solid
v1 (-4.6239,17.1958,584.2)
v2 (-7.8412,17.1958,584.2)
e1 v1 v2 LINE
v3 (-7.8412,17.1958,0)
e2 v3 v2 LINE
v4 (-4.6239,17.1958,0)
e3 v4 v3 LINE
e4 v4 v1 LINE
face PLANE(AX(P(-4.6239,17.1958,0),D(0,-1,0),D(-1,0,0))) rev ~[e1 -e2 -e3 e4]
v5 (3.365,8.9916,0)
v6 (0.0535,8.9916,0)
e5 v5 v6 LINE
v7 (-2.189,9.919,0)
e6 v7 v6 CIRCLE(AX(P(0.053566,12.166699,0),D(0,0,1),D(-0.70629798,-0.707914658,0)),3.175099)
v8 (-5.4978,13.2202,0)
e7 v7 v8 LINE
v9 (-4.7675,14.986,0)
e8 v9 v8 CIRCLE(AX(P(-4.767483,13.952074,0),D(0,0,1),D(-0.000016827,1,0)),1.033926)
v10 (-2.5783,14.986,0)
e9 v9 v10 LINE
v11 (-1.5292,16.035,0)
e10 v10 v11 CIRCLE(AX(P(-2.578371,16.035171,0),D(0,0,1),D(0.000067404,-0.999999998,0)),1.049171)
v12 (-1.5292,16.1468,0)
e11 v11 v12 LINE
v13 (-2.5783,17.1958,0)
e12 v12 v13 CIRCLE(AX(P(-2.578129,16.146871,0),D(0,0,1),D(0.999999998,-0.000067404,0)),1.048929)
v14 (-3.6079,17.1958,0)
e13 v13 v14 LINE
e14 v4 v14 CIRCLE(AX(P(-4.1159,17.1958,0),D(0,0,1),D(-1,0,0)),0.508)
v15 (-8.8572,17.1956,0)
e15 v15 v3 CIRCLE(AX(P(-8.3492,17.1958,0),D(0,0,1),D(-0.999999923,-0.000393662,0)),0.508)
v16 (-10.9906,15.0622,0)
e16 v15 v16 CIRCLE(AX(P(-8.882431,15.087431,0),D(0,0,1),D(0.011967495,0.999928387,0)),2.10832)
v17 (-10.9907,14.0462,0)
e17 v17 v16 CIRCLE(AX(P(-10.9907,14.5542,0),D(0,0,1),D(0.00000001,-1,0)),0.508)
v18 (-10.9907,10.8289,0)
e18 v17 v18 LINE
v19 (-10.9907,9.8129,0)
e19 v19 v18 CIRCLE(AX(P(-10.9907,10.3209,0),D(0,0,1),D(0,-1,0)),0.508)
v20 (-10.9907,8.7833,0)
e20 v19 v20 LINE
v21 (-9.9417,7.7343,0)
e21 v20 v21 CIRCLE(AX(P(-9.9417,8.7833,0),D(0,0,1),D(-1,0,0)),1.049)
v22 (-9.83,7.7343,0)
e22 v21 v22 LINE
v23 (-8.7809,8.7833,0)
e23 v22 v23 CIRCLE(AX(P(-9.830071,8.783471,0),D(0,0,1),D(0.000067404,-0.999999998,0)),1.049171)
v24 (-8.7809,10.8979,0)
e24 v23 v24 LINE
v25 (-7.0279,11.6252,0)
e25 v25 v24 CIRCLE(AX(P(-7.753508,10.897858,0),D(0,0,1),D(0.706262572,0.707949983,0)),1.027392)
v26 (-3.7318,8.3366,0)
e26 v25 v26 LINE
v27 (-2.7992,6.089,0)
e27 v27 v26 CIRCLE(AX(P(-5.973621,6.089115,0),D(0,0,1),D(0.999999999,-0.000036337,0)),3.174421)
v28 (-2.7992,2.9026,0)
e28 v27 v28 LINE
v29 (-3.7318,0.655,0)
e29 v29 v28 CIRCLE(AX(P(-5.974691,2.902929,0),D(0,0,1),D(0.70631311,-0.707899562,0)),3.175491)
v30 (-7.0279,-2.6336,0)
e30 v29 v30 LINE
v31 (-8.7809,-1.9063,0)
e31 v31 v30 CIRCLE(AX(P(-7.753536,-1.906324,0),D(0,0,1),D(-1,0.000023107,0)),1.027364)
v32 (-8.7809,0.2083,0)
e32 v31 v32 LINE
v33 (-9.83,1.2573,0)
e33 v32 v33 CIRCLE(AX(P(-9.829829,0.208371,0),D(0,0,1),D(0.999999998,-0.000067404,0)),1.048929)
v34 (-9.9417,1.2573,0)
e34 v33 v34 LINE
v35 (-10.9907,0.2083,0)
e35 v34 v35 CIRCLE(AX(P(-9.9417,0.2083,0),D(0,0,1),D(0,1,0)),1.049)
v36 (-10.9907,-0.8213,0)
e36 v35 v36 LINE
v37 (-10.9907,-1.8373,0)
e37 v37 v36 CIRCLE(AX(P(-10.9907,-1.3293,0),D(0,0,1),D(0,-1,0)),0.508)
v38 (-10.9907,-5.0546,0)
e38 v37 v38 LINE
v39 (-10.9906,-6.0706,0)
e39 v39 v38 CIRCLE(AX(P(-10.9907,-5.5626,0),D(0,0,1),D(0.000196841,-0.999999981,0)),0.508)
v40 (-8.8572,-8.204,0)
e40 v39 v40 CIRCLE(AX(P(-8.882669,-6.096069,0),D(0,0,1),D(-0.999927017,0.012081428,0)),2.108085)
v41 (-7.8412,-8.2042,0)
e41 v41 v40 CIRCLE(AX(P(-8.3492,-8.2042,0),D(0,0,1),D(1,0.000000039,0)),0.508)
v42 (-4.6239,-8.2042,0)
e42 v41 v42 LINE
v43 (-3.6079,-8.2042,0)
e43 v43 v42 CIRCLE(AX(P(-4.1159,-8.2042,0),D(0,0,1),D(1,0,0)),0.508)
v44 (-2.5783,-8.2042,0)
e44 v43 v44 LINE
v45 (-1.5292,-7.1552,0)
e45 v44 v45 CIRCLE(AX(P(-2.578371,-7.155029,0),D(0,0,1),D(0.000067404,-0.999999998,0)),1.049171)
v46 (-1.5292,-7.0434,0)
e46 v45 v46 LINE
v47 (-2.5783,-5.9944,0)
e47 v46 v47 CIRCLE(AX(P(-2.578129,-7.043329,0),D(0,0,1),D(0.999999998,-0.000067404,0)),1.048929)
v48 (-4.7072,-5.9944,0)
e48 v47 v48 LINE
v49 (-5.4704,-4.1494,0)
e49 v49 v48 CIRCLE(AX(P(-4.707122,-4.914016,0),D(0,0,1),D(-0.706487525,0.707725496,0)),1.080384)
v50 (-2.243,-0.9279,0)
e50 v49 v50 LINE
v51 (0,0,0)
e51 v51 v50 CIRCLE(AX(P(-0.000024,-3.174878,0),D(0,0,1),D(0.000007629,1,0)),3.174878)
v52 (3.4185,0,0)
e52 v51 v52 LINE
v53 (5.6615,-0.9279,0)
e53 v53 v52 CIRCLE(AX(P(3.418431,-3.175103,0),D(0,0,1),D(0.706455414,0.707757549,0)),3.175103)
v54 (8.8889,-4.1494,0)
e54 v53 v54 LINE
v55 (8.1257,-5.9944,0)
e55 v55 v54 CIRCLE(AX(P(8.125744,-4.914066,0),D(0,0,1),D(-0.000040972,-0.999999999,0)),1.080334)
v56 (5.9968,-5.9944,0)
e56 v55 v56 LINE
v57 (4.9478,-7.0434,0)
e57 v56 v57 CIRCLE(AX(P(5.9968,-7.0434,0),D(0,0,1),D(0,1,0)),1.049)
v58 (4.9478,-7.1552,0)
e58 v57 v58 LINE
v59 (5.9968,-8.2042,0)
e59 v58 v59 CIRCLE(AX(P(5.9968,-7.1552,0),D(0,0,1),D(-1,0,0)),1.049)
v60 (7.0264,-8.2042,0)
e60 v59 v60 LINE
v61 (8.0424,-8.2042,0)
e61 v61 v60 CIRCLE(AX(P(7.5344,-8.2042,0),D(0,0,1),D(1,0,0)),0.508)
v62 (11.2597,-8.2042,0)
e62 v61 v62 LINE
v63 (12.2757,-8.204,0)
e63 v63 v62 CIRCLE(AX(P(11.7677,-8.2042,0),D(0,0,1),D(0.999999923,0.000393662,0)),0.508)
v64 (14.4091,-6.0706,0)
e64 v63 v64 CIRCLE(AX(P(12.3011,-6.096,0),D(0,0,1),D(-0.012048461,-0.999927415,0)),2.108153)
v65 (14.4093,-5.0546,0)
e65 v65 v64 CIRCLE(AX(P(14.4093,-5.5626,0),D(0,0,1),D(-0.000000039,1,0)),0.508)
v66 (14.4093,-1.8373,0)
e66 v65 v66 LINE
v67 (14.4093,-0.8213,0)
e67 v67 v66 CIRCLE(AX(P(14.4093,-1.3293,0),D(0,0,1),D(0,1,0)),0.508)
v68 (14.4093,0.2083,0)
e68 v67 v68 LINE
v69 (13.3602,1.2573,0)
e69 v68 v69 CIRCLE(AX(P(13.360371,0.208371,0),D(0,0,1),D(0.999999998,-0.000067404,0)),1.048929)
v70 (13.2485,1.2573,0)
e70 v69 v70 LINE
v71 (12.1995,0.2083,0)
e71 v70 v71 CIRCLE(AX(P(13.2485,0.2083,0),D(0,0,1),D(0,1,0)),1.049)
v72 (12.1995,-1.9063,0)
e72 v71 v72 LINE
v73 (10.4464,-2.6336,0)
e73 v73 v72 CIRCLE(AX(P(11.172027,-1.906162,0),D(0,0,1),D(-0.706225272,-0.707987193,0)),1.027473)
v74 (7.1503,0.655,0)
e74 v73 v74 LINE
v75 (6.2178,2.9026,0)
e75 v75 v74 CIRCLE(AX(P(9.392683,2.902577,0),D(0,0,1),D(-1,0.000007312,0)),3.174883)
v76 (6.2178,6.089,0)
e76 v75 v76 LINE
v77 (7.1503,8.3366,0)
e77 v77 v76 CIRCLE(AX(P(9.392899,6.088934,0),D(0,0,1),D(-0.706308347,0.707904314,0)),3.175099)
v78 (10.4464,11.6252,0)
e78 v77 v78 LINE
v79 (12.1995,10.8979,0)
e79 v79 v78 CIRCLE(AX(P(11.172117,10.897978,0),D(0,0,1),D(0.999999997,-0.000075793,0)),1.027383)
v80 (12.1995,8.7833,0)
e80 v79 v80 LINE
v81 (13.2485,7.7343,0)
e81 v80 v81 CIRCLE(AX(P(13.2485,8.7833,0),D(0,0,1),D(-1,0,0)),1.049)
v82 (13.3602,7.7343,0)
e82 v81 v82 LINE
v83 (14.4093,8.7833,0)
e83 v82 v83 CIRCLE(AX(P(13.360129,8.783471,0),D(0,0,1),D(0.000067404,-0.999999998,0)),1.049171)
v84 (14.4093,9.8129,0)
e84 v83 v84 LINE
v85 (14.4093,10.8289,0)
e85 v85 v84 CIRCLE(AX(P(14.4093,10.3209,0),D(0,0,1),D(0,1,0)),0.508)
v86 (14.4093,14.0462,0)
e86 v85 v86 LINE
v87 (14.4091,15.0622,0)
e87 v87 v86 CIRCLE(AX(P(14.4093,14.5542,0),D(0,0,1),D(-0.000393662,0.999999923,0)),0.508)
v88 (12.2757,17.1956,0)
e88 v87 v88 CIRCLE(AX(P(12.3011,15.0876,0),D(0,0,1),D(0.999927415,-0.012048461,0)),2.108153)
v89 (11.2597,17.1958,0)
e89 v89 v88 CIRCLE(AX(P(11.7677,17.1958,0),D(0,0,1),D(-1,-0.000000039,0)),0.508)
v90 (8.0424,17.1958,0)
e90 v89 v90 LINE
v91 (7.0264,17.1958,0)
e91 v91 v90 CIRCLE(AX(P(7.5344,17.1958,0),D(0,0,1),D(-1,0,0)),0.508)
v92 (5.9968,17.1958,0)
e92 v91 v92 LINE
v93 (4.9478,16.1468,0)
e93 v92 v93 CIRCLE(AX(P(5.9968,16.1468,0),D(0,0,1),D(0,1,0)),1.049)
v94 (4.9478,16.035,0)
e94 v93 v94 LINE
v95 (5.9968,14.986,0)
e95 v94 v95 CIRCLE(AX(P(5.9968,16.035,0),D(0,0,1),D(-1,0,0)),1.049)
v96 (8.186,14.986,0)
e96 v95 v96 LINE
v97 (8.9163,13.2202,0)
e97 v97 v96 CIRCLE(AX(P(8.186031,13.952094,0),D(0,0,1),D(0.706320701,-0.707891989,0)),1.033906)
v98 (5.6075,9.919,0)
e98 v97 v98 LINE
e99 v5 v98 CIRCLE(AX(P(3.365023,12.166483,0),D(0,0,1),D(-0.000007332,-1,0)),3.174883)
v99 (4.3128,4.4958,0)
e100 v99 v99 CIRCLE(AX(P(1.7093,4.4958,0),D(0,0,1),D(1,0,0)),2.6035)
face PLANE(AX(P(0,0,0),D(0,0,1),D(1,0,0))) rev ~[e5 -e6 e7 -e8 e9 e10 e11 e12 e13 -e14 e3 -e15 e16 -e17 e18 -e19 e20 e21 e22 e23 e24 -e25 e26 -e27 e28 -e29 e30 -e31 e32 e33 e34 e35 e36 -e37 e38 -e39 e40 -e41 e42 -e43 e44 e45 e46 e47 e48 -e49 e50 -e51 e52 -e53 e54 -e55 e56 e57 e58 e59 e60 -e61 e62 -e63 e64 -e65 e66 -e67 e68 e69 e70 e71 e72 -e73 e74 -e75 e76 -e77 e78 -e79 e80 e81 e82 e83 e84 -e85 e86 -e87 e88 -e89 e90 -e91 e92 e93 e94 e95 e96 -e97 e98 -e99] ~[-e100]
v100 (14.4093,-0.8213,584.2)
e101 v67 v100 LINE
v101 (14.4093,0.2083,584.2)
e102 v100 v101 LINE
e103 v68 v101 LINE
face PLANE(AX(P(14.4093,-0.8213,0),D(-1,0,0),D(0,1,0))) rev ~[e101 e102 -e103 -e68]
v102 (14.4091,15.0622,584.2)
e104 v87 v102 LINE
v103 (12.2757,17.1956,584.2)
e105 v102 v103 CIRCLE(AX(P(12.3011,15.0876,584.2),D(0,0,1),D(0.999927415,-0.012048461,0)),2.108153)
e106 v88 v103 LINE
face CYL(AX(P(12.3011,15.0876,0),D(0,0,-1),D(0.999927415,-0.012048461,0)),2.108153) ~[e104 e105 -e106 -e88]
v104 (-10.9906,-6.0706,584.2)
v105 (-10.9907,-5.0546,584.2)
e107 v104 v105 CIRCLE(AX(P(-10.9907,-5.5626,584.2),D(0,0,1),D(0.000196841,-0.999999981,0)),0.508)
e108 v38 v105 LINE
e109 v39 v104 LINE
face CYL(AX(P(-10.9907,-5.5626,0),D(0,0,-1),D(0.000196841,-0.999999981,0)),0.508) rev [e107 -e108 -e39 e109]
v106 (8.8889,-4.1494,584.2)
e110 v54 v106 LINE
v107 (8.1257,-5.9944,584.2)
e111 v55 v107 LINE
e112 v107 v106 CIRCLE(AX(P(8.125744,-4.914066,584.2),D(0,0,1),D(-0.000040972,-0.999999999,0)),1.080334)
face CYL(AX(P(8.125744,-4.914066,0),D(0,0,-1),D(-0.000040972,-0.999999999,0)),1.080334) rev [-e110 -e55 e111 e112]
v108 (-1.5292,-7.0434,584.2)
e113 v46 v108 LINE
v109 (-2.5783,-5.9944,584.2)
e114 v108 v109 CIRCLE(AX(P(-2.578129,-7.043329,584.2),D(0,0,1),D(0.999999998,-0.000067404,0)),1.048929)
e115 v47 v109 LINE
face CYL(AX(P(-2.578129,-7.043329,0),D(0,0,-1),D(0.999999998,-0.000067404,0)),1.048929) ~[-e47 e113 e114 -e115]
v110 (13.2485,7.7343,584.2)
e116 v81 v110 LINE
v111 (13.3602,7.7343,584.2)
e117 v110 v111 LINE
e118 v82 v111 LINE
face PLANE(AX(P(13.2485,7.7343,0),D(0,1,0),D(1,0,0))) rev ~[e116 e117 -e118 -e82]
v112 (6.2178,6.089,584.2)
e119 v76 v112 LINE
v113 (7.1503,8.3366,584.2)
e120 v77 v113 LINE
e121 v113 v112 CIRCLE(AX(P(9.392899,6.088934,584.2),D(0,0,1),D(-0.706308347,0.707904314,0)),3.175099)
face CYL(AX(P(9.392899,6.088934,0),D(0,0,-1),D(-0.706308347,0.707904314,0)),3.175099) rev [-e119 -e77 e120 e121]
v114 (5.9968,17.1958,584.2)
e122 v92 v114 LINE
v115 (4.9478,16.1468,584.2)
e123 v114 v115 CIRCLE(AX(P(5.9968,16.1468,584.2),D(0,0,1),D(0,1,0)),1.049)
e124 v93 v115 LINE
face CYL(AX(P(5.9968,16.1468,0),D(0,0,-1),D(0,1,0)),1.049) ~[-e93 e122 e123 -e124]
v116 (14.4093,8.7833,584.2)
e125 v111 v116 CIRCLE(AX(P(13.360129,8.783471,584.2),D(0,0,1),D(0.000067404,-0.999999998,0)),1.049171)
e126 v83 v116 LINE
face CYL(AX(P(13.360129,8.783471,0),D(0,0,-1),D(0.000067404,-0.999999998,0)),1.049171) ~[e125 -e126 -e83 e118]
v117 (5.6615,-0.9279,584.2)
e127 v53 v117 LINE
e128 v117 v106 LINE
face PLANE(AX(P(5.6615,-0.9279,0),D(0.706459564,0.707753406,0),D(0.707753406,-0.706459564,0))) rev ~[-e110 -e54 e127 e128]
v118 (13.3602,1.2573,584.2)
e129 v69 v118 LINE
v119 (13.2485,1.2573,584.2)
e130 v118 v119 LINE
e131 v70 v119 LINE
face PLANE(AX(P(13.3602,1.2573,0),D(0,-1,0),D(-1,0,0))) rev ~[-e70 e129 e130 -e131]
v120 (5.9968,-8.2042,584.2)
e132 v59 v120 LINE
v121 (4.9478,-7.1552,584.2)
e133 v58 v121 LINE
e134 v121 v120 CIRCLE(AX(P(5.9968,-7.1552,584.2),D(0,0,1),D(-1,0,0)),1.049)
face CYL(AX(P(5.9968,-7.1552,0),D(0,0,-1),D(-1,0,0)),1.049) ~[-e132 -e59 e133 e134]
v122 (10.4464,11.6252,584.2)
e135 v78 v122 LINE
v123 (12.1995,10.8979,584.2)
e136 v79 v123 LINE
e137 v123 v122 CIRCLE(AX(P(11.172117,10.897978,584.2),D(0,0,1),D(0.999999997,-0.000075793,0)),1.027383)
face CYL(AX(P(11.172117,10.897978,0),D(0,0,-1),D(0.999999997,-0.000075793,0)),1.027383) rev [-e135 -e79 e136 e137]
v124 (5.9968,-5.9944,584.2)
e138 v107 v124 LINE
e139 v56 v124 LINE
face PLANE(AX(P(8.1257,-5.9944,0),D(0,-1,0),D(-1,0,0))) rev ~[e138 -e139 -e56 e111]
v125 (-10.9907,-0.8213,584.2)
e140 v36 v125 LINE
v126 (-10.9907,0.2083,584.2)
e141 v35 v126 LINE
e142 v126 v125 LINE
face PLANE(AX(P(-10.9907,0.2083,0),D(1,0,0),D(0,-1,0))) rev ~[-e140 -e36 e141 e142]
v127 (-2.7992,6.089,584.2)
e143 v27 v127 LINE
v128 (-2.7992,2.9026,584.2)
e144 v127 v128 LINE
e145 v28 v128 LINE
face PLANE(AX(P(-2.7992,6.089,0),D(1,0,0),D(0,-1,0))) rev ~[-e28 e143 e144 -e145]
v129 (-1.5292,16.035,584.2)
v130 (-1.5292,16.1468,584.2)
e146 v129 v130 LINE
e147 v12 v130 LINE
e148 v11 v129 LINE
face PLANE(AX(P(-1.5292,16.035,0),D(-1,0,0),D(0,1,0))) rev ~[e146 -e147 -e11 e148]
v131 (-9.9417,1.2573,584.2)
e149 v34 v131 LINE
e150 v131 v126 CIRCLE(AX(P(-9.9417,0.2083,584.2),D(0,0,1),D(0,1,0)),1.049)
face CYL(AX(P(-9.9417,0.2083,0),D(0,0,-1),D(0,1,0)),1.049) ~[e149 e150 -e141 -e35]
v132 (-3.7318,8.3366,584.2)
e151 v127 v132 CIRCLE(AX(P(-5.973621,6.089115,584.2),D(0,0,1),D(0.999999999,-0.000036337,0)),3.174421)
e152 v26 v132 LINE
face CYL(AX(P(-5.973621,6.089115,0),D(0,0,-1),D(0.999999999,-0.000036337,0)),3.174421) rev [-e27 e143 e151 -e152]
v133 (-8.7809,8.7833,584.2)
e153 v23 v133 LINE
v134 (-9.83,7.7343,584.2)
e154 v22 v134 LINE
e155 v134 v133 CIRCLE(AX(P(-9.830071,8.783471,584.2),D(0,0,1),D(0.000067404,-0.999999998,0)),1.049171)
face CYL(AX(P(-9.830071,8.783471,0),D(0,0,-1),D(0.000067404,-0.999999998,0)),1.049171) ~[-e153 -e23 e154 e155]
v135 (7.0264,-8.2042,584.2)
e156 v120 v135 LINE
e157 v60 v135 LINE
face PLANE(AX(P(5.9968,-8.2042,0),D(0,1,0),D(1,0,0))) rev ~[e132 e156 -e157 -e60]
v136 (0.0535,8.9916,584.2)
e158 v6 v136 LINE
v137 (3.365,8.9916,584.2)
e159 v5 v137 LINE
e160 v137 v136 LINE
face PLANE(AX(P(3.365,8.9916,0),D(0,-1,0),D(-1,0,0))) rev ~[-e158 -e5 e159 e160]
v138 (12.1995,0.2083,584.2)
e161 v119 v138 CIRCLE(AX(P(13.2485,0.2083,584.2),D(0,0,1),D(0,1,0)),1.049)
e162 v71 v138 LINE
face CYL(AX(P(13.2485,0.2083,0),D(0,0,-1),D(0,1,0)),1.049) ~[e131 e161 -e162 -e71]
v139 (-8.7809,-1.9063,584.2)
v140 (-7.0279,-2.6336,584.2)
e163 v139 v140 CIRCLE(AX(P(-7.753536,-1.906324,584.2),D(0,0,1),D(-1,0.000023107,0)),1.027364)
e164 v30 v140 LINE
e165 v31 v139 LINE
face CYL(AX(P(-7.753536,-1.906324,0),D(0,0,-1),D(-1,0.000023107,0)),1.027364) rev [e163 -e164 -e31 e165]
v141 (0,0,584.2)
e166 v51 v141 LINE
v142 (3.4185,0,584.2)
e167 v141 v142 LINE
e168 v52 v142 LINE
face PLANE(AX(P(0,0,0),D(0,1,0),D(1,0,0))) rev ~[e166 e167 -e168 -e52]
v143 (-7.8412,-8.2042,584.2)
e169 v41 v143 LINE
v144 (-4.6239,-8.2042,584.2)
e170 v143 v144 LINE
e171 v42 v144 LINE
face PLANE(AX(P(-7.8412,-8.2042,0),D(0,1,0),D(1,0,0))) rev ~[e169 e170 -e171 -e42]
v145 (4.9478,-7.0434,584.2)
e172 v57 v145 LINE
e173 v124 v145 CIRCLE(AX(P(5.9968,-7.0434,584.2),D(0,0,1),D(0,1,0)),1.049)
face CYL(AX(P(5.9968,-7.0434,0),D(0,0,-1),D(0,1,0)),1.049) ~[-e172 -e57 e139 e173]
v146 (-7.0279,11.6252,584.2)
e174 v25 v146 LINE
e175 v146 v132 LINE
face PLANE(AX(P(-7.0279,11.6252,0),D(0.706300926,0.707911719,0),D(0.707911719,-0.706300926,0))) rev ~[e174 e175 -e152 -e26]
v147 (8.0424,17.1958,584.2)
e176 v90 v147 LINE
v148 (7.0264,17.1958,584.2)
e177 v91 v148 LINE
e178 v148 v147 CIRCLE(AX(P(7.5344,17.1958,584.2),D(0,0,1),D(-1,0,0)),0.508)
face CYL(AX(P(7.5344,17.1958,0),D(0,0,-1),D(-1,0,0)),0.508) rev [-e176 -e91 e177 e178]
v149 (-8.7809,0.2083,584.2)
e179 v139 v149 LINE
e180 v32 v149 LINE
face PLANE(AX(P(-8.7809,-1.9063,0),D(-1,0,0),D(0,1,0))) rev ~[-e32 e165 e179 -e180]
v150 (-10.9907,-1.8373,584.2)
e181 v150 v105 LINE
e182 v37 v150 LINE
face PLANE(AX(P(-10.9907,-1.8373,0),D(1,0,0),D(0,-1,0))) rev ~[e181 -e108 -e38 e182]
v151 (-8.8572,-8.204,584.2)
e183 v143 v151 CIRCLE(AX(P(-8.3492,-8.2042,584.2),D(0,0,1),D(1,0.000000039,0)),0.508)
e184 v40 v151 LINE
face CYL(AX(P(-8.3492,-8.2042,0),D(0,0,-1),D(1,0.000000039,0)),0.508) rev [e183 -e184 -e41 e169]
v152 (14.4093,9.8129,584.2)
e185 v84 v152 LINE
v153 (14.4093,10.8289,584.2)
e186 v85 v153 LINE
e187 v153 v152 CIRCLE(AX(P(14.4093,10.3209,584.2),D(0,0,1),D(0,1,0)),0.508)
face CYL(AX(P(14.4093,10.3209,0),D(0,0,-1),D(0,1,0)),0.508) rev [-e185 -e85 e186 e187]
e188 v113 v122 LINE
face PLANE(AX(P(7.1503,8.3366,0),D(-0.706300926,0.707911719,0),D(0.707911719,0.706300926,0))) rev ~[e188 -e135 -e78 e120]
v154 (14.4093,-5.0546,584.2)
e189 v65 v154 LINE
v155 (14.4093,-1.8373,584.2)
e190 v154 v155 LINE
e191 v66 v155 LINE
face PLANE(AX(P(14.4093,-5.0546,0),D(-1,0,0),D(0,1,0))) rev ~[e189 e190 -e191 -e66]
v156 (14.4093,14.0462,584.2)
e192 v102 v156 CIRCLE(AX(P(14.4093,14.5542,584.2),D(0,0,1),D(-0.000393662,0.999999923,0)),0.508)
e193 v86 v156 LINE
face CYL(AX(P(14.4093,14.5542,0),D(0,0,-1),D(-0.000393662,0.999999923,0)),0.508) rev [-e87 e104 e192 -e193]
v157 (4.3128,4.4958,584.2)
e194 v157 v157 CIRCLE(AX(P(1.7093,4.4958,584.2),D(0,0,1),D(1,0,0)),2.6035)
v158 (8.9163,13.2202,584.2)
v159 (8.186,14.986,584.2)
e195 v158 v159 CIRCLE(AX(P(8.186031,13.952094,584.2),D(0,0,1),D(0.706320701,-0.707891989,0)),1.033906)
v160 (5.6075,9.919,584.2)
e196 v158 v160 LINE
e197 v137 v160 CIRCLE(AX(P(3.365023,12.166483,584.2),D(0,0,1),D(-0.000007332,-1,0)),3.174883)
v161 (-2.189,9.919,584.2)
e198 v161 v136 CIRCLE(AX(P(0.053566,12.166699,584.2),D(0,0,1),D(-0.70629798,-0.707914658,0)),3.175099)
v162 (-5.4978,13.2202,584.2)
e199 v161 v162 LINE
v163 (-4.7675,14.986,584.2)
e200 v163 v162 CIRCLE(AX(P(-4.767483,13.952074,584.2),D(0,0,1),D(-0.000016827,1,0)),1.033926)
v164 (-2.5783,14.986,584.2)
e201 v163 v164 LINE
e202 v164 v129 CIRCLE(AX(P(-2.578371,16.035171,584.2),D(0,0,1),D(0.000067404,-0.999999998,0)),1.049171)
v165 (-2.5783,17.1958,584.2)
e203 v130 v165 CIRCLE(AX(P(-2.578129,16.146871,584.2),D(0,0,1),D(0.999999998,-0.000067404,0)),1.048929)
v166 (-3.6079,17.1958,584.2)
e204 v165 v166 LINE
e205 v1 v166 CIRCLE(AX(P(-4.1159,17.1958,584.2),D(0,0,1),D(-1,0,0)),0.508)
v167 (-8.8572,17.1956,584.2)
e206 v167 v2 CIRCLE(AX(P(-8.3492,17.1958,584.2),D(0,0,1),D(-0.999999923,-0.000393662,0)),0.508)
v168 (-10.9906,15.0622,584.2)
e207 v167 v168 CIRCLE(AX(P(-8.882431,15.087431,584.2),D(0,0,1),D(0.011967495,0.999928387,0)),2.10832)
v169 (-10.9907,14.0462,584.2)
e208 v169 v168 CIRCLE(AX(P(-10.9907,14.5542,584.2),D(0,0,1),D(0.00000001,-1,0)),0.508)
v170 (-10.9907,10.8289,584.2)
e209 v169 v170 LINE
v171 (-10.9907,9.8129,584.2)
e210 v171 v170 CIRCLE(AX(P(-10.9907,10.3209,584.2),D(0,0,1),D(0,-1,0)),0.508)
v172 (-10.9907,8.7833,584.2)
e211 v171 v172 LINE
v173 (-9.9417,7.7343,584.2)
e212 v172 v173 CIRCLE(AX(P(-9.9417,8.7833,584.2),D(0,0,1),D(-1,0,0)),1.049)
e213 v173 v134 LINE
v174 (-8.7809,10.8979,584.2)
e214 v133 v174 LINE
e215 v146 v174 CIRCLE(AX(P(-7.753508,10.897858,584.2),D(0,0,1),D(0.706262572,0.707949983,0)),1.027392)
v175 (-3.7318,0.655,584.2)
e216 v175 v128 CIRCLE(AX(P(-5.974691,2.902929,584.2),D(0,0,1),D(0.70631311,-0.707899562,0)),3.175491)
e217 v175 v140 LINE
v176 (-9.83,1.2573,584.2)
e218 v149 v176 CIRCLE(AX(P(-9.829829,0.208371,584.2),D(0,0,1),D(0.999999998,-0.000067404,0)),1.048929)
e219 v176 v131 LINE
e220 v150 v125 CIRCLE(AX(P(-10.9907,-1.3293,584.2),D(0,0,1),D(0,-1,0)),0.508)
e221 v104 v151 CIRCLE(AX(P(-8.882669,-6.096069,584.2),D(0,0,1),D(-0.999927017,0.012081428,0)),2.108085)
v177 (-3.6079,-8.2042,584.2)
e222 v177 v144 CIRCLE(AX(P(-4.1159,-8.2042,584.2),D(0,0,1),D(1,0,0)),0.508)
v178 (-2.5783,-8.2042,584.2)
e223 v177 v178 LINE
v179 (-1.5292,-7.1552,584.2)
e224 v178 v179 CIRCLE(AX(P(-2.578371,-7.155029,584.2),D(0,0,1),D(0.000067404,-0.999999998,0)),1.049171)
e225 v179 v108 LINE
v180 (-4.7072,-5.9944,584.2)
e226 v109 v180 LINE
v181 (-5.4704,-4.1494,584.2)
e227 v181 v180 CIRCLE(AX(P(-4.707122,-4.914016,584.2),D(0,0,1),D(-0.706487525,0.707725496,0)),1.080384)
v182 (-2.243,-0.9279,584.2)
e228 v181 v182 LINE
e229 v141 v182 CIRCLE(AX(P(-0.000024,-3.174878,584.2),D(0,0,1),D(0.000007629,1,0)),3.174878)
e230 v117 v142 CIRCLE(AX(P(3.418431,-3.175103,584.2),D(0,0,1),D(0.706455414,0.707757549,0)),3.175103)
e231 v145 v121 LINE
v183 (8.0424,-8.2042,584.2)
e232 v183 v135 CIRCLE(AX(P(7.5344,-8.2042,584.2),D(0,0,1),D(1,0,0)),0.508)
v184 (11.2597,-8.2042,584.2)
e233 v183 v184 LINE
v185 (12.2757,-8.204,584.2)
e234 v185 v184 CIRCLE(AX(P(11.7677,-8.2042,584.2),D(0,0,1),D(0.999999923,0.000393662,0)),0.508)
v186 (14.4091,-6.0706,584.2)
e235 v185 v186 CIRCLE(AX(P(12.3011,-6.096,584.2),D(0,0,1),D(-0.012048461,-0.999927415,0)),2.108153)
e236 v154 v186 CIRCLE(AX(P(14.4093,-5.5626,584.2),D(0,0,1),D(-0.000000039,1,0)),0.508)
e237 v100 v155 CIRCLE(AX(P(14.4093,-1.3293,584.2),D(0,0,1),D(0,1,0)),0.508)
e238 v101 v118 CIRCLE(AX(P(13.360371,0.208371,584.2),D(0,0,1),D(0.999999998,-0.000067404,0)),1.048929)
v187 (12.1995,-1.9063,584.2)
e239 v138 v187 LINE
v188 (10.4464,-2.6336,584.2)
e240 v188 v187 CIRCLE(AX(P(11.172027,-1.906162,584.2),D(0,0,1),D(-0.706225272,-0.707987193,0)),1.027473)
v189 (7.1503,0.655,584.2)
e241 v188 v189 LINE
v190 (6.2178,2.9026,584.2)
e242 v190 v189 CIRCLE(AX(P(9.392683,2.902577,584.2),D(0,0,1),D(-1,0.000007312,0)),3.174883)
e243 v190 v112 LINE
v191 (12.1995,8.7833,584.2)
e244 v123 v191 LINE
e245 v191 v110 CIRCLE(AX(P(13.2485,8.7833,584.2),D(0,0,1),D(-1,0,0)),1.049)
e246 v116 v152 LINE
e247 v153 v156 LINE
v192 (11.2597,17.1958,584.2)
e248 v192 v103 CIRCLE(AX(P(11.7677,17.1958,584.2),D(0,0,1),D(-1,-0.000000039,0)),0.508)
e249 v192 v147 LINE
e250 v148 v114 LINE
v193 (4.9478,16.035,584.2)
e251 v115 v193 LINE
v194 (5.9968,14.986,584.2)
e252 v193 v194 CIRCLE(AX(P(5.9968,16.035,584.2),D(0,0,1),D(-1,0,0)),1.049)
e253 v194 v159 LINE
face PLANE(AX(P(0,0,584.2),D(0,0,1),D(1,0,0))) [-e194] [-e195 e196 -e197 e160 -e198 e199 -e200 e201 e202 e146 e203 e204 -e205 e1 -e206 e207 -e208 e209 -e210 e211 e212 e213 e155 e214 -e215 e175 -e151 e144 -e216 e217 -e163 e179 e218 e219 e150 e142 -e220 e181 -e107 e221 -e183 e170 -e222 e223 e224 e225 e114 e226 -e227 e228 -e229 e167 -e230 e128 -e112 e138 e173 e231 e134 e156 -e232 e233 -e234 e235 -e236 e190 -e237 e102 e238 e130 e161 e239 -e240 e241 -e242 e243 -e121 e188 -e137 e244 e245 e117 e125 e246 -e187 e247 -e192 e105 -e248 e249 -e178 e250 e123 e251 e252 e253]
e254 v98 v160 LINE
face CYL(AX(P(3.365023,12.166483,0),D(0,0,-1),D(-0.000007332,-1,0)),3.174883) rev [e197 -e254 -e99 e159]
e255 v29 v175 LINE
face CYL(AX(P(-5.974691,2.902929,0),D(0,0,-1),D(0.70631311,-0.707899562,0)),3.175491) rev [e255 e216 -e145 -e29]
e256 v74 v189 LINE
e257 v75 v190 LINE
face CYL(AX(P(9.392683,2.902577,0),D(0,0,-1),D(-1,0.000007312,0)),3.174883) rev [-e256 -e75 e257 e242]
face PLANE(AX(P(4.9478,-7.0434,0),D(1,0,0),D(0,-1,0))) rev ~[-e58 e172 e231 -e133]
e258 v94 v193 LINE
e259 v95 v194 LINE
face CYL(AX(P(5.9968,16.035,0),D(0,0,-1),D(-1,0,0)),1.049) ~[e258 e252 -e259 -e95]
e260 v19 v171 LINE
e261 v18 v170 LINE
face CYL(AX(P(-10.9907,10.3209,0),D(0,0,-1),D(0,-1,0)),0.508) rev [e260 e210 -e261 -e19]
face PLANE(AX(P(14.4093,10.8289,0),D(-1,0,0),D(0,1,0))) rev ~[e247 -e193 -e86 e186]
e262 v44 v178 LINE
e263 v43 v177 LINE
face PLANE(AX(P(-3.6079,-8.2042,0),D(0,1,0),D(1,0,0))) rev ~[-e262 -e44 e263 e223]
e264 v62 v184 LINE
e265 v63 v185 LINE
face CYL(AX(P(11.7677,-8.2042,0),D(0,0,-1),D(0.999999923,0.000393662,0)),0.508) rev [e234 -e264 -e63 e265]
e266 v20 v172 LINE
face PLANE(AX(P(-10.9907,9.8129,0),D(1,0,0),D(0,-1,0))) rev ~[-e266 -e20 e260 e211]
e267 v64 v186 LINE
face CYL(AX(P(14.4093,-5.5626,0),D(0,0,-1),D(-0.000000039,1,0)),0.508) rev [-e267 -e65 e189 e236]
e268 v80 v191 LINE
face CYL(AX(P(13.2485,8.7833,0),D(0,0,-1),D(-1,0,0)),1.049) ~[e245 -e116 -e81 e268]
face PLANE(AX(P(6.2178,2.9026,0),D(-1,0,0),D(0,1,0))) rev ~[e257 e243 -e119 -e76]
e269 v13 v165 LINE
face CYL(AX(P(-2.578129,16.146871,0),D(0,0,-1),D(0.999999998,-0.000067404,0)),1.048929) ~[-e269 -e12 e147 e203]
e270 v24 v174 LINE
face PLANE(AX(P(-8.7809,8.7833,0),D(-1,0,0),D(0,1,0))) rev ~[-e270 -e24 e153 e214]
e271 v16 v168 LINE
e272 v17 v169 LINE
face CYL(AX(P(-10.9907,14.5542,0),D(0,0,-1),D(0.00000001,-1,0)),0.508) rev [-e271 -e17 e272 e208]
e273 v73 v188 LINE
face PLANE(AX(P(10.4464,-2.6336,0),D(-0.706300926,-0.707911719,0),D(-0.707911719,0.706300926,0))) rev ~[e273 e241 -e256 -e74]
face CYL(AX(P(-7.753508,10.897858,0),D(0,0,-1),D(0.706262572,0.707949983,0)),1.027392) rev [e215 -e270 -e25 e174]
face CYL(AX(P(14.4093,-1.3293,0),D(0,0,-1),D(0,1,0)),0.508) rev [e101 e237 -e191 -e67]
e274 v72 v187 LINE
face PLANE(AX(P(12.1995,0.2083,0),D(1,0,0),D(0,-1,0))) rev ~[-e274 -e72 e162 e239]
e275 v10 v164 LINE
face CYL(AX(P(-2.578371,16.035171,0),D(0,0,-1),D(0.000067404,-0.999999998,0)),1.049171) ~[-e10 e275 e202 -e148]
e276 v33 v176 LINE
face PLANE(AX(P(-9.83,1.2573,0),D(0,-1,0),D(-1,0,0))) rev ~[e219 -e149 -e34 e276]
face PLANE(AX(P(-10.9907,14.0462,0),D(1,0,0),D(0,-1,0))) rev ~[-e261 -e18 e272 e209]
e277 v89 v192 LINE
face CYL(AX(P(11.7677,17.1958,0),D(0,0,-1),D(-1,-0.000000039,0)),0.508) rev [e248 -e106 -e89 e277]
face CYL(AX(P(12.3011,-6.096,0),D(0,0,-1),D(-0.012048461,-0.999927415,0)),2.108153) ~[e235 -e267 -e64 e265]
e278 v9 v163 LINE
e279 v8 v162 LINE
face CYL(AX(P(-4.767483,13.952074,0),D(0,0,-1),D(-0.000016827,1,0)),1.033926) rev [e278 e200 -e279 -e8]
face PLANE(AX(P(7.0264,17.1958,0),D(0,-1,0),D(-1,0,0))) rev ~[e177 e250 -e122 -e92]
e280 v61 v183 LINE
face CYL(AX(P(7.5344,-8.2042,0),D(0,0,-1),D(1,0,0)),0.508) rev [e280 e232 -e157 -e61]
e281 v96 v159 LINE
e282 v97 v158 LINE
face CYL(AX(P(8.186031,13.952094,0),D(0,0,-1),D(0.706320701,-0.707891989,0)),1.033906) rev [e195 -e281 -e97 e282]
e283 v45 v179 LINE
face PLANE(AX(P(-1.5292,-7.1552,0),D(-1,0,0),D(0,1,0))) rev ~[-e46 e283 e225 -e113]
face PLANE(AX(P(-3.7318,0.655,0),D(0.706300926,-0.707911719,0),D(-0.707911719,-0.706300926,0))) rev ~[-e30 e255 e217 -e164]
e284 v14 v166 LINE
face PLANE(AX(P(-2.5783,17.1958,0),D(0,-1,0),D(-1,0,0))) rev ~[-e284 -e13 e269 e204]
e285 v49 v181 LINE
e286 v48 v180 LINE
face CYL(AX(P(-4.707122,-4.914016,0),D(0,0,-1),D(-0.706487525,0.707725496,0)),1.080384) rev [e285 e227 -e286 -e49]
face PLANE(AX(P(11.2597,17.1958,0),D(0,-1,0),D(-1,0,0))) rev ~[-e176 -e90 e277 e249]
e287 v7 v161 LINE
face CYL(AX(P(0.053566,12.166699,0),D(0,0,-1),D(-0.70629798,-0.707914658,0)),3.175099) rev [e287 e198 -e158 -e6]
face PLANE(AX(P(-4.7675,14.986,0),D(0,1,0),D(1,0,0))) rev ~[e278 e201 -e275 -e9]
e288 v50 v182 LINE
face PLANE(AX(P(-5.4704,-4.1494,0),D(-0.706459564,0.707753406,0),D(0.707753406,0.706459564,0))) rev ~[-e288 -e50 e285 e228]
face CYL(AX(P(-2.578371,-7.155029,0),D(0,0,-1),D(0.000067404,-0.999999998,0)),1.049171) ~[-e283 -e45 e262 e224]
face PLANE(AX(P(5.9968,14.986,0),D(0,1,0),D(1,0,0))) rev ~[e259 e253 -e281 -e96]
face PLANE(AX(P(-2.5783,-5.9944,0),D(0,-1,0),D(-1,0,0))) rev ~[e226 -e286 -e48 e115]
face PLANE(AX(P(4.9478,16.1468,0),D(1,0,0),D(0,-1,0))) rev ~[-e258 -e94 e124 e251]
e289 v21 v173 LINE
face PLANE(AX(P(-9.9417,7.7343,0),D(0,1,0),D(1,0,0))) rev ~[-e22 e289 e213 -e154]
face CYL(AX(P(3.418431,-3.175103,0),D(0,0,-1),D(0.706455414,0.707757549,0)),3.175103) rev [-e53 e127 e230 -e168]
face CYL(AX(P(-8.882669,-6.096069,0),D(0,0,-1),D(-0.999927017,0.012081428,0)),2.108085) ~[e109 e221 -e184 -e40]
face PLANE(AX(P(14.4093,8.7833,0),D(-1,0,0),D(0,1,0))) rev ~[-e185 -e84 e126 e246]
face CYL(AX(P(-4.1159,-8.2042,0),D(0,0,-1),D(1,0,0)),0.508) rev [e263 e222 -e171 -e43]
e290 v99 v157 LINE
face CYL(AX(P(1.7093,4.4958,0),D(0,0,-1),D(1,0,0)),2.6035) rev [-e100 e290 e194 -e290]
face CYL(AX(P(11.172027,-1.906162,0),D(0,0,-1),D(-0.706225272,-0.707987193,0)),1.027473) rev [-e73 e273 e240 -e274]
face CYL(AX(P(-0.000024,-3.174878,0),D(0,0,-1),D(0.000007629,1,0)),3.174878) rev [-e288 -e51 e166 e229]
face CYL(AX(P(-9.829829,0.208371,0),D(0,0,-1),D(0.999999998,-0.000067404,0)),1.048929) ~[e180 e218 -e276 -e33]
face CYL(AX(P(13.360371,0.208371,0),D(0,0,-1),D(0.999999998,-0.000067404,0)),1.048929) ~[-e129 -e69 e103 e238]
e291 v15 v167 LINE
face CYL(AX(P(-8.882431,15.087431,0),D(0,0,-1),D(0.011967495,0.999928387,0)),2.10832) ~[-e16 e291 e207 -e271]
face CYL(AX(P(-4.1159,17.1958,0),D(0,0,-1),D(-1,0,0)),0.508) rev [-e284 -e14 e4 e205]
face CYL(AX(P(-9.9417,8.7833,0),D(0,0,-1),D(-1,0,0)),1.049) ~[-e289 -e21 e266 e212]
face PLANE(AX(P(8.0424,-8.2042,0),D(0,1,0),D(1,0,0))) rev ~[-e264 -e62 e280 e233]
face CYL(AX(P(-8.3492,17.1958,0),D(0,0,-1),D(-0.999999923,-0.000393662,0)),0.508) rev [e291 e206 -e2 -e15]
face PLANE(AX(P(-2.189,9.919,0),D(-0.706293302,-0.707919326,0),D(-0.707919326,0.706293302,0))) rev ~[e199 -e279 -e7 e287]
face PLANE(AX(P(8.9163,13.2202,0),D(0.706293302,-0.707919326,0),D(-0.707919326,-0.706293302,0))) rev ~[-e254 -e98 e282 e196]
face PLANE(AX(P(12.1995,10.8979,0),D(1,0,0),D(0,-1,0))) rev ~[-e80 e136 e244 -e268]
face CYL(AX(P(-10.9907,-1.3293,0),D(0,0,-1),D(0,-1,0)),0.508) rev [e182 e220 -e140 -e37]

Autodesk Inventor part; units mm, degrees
ref_plane "YZ Plane" through (0, 0, 0) normal (1, 0, 0) x (0, 1, 0)
ref_plane "XZ Plane" through (0, 0, 0) normal (0, 1, 0) x (-1, 0, 0)
ref_plane "XY Plane" through (0, 0, 0) normal (0, 0, 1) x (1, 0, 0)
sketch "Sketch1" plane through (0, 0, 0) normal (0, 0, 1) x (1, 0, 0)
  arc A0 (-5.4704, -4.1494) -> (-4.7072, -5.9944) centre (-4.7072, -4.914) ccw
  line L0 (-5.4704, -4.1494) -> (-2.243, -0.9279)
  arc A1 (0, 0) -> (-2.243, -0.9279) centre (0, -3.175) ccw
  line L1 (0, 0) -> (3.4185, 0)
  arc A2 (5.6615, -0.9279) -> (3.4185, 0) centre (3.4185, -3.175) ccw
  line L2 (5.6615, -0.9279) -> (8.8889, -4.1494)
  arc A3 (8.1257, -5.9944) -> (8.8889, -4.1494) centre (8.1257, -4.914) ccw
  line L3 (8.1257, -5.9944) -> (5.9968, -5.9944)
  arc A4 (5.9968, -5.9944) -> (4.9478, -7.0434) centre (5.9968, -7.0434) ccw
  line L4 (4.9478, -7.0434) -> (4.9478, -7.1552)
  arc A5 (4.9478, -7.1552) -> (5.9968, -8.2042) centre (5.9968, -7.1552) ccw
  line L5 (5.9968, -8.2042) -> (7.0264, -8.2042)
  arc A6 (8.0424, -8.2042) -> (7.0264, -8.2042) centre (7.5344, -8.2042) ccw
  line L6 (8.0424, -8.2042) -> (11.2597, -8.2042)
  arc A7 (12.2757, -8.204) -> (11.2597, -8.2042) centre (11.7677, -8.2042) ccw
  arc A8 (12.2757, -8.204) -> (14.4091, -6.0706) centre (12.3011, -6.096) ccw
  arc A9 (14.4093, -5.0546) -> (14.4091, -6.0706) centre (14.4093, -5.5626) ccw
  line L7 (14.4093, -5.0546) -> (14.4093, -1.8373)
  arc A10 (14.4093, -0.8213) -> (14.4093, -1.8373) centre (14.4093, -1.3293) ccw
  line L8 (14.4093, -0.8213) -> (14.4093, 0.2083)
  arc A11 (14.4093, 0.2083) -> (13.3602, 1.2573) centre (13.3602, 0.2083) ccw
  line L9 (13.3602, 1.2573) -> (13.2485, 1.2573)
  arc A12 (13.2485, 1.2573) -> (12.1995, 0.2083) centre (13.2485, 0.2083) ccw
  line L10 (12.1995, 0.2083) -> (12.1995, -1.9063)
  arc A13 (10.4464, -2.6336) -> (12.1995, -1.9063) centre (11.172, -1.9063) ccw
  line L11 (10.4464, -2.6336) -> (7.1503, 0.655)
  arc A14 (6.2178, 2.9026) -> (7.1503, 0.655) centre (9.3928, 2.9026) ccw
  line L12 (6.2178, 2.9026) -> (6.2178, 6.089)
  arc A15 (7.1503, 8.3366) -> (6.2178, 6.089) centre (9.3928, 6.089) ccw
  line L13 (7.1503, 8.3366) -> (10.4464, 11.6252)
  arc A16 (12.1995, 10.8979) -> (10.4464, 11.6252) centre (11.172, 10.8979) ccw
  line L14 (12.1995, 10.8979) -> (12.1995, 8.7833)
  arc A17 (12.1995, 8.7833) -> (13.2485, 7.7343) centre (13.2485, 8.7833) ccw
  line L15 (13.2485, 7.7343) -> (13.3602, 7.7343)
  arc A18 (13.3602, 7.7343) -> (14.4093, 8.7833) centre (13.3602, 8.7833) ccw
  line L16 (14.4093, 8.7833) -> (14.4093, 9.8129)
  arc A19 (14.4093, 10.8289) -> (14.4093, 9.8129) centre (14.4093, 10.3209) ccw
  line L17 (14.4093, 10.8289) -> (14.4093, 14.0462)
  arc A20 (14.4091, 15.0622) -> (14.4093, 14.0462) centre (14.4093, 14.5542) ccw
  arc A21 (14.4091, 15.0622) -> (12.2757, 17.1956) centre (12.3011, 15.0876) ccw
  arc A22 (11.2597, 17.1958) -> (12.2757, 17.1956) centre (11.7677, 17.1958) ccw
  line L18 (11.2597, 17.1958) -> (8.0424, 17.1958)
  arc A23 (7.0264, 17.1958) -> (8.0424, 17.1958) centre (7.5344, 17.1958) ccw
  line L19 (7.0264, 17.1958) -> (5.9968, 17.1958)
  arc A24 (5.9968, 17.1958) -> (4.9478, 16.1468) centre (5.9968, 16.1468) ccw
  line L20 (4.9478, 16.1468) -> (4.9478, 16.035)
  arc A25 (4.9478, 16.035) -> (5.9968, 14.986) centre (5.9968, 16.035) ccw
  line L21 (5.9968, 14.986) -> (8.186, 14.986)
  arc A26 (8.9163, 13.2202) -> (8.186, 14.986) centre (8.186, 13.9521) ccw
  line L22 (8.9163, 13.2202) -> (5.6075, 9.919)
  arc A27 (3.365, 8.9916) -> (5.6075, 9.919) centre (3.365, 12.1666) ccw
  line L23 (3.365, 8.9916) -> (0.0535, 8.9916)
  arc A28 (-2.189, 9.919) -> (0.0535, 8.9916) centre (0.0535, 12.1666) ccw
  line L24 (-2.189, 9.919) -> (-5.4978, 13.2202)
  arc A29 (-4.7675, 14.986) -> (-5.4978, 13.2202) centre (-4.7675, 13.9521) ccw
  line L25 (-4.7675, 14.986) -> (-2.5783, 14.986)
  arc A30 (-2.5783, 14.986) -> (-1.5292, 16.035) centre (-2.5783, 16.035) ccw
  line L26 (-1.5292, 16.035) -> (-1.5292, 16.1468)
  arc A31 (-1.5292, 16.1468) -> (-2.5783, 17.1958) centre (-2.5783, 16.1468) ccw
  line L27 (-2.5783, 17.1958) -> (-3.6079, 17.1958)
  arc A32 (-4.6239, 17.1958) -> (-3.6079, 17.1958) centre (-4.1159, 17.1958) ccw
  line L28 (-4.6239, 17.1958) -> (-7.8412, 17.1958)
  arc A33 (-8.8572, 17.1956) -> (-7.8412, 17.1958) centre (-8.3492, 17.1958) ccw
  arc A34 (-8.8572, 17.1956) -> (-10.9906, 15.0622) centre (-8.8825, 15.0876) ccw
  arc A35 (-10.9907, 14.0462) -> (-10.9906, 15.0622) centre (-10.9907, 14.5542) ccw
  line L29 (-10.9907, 14.0462) -> (-10.9907, 10.8289)
  arc A36 (-10.9907, 9.8129) -> (-10.9907, 10.8289) centre (-10.9907, 10.3209) ccw
  line L30 (-10.9907, 9.8129) -> (-10.9907, 8.7833)
  arc A37 (-10.9907, 8.7833) -> (-9.9417, 7.7343) centre (-9.9417, 8.7833) ccw
  line L31 (-9.9417, 7.7343) -> (-9.83, 7.7343)
  arc A38 (-9.83, 7.7343) -> (-8.7809, 8.7833) centre (-9.83, 8.7833) ccw
  line L32 (-8.7809, 8.7833) -> (-8.7809, 10.8979)
  arc A39 (-7.0279, 11.6252) -> (-8.7809, 10.8979) centre (-7.7535, 10.8979) ccw
  line L33 (-7.0279, 11.6252) -> (-3.7318, 8.3366)
  arc A40 (-2.7992, 6.089) -> (-3.7318, 8.3366) centre (-5.9742, 6.089) ccw
  line L34 (-2.7992, 6.089) -> (-2.7992, 2.9026)
  arc A41 (-3.7318, 0.655) -> (-2.7992, 2.9026) centre (-5.9742, 2.9026) ccw
  line L35 (-3.7318, 0.655) -> (-7.0279, -2.6336)
  arc A42 (-8.7809, -1.9063) -> (-7.0279, -2.6336) centre (-7.7535, -1.9063) ccw
  line L36 (-8.7809, -1.9063) -> (-8.7809, 0.2083)
  arc A43 (-8.7809, 0.2083) -> (-9.83, 1.2573) centre (-9.83, 0.2083) ccw
  line L37 (-9.83, 1.2573) -> (-9.9417, 1.2573)
  arc A44 (-9.9417, 1.2573) -> (-10.9907, 0.2083) centre (-9.9417, 0.2083) ccw
  line L38 (-10.9907, 0.2083) -> (-10.9907, -0.8213)
  arc A45 (-10.9907, -1.8373) -> (-10.9907, -0.8213) centre (-10.9907, -1.3293) ccw
  line L39 (-10.9907, -1.8373) -> (-10.9907, -5.0546)
  arc A46 (-10.9906, -6.0706) -> (-10.9907, -5.0546) centre (-10.9907, -5.5626) ccw
  arc A47 (-10.9906, -6.0706) -> (-8.8572, -8.204) centre (-8.8825, -6.096) ccw
  arc A48 (-7.8412, -8.2042) -> (-8.8572, -8.204) centre (-8.3492, -8.2042) ccw
  line L40 (-7.8412, -8.2042) -> (-4.6239, -8.2042)
  arc A49 (-3.6079, -8.2042) -> (-4.6239, -8.2042) centre (-4.1159, -8.2042) ccw
  line L41 (-3.6079, -8.2042) -> (-2.5783, -8.2042)
  arc A50 (-2.5783, -8.2042) -> (-1.5292, -7.1552) centre (-2.5783, -7.1552) ccw
  line L42 (-1.5292, -7.1552) -> (-1.5292, -7.0434)
  arc A51 (-1.5292, -7.0434) -> (-2.5783, -5.9944) centre (-2.5783, -7.0434) ccw
  line L43 (-2.5783, -5.9944) -> (-4.7072, -5.9944)
  circle A52 centre (1.7093, 4.4958) radius 2.6035
extrude "Extrusion1" add sketch "Sketch1" along normal blind 584.2
properties part number "23in 1x1 T slot"
